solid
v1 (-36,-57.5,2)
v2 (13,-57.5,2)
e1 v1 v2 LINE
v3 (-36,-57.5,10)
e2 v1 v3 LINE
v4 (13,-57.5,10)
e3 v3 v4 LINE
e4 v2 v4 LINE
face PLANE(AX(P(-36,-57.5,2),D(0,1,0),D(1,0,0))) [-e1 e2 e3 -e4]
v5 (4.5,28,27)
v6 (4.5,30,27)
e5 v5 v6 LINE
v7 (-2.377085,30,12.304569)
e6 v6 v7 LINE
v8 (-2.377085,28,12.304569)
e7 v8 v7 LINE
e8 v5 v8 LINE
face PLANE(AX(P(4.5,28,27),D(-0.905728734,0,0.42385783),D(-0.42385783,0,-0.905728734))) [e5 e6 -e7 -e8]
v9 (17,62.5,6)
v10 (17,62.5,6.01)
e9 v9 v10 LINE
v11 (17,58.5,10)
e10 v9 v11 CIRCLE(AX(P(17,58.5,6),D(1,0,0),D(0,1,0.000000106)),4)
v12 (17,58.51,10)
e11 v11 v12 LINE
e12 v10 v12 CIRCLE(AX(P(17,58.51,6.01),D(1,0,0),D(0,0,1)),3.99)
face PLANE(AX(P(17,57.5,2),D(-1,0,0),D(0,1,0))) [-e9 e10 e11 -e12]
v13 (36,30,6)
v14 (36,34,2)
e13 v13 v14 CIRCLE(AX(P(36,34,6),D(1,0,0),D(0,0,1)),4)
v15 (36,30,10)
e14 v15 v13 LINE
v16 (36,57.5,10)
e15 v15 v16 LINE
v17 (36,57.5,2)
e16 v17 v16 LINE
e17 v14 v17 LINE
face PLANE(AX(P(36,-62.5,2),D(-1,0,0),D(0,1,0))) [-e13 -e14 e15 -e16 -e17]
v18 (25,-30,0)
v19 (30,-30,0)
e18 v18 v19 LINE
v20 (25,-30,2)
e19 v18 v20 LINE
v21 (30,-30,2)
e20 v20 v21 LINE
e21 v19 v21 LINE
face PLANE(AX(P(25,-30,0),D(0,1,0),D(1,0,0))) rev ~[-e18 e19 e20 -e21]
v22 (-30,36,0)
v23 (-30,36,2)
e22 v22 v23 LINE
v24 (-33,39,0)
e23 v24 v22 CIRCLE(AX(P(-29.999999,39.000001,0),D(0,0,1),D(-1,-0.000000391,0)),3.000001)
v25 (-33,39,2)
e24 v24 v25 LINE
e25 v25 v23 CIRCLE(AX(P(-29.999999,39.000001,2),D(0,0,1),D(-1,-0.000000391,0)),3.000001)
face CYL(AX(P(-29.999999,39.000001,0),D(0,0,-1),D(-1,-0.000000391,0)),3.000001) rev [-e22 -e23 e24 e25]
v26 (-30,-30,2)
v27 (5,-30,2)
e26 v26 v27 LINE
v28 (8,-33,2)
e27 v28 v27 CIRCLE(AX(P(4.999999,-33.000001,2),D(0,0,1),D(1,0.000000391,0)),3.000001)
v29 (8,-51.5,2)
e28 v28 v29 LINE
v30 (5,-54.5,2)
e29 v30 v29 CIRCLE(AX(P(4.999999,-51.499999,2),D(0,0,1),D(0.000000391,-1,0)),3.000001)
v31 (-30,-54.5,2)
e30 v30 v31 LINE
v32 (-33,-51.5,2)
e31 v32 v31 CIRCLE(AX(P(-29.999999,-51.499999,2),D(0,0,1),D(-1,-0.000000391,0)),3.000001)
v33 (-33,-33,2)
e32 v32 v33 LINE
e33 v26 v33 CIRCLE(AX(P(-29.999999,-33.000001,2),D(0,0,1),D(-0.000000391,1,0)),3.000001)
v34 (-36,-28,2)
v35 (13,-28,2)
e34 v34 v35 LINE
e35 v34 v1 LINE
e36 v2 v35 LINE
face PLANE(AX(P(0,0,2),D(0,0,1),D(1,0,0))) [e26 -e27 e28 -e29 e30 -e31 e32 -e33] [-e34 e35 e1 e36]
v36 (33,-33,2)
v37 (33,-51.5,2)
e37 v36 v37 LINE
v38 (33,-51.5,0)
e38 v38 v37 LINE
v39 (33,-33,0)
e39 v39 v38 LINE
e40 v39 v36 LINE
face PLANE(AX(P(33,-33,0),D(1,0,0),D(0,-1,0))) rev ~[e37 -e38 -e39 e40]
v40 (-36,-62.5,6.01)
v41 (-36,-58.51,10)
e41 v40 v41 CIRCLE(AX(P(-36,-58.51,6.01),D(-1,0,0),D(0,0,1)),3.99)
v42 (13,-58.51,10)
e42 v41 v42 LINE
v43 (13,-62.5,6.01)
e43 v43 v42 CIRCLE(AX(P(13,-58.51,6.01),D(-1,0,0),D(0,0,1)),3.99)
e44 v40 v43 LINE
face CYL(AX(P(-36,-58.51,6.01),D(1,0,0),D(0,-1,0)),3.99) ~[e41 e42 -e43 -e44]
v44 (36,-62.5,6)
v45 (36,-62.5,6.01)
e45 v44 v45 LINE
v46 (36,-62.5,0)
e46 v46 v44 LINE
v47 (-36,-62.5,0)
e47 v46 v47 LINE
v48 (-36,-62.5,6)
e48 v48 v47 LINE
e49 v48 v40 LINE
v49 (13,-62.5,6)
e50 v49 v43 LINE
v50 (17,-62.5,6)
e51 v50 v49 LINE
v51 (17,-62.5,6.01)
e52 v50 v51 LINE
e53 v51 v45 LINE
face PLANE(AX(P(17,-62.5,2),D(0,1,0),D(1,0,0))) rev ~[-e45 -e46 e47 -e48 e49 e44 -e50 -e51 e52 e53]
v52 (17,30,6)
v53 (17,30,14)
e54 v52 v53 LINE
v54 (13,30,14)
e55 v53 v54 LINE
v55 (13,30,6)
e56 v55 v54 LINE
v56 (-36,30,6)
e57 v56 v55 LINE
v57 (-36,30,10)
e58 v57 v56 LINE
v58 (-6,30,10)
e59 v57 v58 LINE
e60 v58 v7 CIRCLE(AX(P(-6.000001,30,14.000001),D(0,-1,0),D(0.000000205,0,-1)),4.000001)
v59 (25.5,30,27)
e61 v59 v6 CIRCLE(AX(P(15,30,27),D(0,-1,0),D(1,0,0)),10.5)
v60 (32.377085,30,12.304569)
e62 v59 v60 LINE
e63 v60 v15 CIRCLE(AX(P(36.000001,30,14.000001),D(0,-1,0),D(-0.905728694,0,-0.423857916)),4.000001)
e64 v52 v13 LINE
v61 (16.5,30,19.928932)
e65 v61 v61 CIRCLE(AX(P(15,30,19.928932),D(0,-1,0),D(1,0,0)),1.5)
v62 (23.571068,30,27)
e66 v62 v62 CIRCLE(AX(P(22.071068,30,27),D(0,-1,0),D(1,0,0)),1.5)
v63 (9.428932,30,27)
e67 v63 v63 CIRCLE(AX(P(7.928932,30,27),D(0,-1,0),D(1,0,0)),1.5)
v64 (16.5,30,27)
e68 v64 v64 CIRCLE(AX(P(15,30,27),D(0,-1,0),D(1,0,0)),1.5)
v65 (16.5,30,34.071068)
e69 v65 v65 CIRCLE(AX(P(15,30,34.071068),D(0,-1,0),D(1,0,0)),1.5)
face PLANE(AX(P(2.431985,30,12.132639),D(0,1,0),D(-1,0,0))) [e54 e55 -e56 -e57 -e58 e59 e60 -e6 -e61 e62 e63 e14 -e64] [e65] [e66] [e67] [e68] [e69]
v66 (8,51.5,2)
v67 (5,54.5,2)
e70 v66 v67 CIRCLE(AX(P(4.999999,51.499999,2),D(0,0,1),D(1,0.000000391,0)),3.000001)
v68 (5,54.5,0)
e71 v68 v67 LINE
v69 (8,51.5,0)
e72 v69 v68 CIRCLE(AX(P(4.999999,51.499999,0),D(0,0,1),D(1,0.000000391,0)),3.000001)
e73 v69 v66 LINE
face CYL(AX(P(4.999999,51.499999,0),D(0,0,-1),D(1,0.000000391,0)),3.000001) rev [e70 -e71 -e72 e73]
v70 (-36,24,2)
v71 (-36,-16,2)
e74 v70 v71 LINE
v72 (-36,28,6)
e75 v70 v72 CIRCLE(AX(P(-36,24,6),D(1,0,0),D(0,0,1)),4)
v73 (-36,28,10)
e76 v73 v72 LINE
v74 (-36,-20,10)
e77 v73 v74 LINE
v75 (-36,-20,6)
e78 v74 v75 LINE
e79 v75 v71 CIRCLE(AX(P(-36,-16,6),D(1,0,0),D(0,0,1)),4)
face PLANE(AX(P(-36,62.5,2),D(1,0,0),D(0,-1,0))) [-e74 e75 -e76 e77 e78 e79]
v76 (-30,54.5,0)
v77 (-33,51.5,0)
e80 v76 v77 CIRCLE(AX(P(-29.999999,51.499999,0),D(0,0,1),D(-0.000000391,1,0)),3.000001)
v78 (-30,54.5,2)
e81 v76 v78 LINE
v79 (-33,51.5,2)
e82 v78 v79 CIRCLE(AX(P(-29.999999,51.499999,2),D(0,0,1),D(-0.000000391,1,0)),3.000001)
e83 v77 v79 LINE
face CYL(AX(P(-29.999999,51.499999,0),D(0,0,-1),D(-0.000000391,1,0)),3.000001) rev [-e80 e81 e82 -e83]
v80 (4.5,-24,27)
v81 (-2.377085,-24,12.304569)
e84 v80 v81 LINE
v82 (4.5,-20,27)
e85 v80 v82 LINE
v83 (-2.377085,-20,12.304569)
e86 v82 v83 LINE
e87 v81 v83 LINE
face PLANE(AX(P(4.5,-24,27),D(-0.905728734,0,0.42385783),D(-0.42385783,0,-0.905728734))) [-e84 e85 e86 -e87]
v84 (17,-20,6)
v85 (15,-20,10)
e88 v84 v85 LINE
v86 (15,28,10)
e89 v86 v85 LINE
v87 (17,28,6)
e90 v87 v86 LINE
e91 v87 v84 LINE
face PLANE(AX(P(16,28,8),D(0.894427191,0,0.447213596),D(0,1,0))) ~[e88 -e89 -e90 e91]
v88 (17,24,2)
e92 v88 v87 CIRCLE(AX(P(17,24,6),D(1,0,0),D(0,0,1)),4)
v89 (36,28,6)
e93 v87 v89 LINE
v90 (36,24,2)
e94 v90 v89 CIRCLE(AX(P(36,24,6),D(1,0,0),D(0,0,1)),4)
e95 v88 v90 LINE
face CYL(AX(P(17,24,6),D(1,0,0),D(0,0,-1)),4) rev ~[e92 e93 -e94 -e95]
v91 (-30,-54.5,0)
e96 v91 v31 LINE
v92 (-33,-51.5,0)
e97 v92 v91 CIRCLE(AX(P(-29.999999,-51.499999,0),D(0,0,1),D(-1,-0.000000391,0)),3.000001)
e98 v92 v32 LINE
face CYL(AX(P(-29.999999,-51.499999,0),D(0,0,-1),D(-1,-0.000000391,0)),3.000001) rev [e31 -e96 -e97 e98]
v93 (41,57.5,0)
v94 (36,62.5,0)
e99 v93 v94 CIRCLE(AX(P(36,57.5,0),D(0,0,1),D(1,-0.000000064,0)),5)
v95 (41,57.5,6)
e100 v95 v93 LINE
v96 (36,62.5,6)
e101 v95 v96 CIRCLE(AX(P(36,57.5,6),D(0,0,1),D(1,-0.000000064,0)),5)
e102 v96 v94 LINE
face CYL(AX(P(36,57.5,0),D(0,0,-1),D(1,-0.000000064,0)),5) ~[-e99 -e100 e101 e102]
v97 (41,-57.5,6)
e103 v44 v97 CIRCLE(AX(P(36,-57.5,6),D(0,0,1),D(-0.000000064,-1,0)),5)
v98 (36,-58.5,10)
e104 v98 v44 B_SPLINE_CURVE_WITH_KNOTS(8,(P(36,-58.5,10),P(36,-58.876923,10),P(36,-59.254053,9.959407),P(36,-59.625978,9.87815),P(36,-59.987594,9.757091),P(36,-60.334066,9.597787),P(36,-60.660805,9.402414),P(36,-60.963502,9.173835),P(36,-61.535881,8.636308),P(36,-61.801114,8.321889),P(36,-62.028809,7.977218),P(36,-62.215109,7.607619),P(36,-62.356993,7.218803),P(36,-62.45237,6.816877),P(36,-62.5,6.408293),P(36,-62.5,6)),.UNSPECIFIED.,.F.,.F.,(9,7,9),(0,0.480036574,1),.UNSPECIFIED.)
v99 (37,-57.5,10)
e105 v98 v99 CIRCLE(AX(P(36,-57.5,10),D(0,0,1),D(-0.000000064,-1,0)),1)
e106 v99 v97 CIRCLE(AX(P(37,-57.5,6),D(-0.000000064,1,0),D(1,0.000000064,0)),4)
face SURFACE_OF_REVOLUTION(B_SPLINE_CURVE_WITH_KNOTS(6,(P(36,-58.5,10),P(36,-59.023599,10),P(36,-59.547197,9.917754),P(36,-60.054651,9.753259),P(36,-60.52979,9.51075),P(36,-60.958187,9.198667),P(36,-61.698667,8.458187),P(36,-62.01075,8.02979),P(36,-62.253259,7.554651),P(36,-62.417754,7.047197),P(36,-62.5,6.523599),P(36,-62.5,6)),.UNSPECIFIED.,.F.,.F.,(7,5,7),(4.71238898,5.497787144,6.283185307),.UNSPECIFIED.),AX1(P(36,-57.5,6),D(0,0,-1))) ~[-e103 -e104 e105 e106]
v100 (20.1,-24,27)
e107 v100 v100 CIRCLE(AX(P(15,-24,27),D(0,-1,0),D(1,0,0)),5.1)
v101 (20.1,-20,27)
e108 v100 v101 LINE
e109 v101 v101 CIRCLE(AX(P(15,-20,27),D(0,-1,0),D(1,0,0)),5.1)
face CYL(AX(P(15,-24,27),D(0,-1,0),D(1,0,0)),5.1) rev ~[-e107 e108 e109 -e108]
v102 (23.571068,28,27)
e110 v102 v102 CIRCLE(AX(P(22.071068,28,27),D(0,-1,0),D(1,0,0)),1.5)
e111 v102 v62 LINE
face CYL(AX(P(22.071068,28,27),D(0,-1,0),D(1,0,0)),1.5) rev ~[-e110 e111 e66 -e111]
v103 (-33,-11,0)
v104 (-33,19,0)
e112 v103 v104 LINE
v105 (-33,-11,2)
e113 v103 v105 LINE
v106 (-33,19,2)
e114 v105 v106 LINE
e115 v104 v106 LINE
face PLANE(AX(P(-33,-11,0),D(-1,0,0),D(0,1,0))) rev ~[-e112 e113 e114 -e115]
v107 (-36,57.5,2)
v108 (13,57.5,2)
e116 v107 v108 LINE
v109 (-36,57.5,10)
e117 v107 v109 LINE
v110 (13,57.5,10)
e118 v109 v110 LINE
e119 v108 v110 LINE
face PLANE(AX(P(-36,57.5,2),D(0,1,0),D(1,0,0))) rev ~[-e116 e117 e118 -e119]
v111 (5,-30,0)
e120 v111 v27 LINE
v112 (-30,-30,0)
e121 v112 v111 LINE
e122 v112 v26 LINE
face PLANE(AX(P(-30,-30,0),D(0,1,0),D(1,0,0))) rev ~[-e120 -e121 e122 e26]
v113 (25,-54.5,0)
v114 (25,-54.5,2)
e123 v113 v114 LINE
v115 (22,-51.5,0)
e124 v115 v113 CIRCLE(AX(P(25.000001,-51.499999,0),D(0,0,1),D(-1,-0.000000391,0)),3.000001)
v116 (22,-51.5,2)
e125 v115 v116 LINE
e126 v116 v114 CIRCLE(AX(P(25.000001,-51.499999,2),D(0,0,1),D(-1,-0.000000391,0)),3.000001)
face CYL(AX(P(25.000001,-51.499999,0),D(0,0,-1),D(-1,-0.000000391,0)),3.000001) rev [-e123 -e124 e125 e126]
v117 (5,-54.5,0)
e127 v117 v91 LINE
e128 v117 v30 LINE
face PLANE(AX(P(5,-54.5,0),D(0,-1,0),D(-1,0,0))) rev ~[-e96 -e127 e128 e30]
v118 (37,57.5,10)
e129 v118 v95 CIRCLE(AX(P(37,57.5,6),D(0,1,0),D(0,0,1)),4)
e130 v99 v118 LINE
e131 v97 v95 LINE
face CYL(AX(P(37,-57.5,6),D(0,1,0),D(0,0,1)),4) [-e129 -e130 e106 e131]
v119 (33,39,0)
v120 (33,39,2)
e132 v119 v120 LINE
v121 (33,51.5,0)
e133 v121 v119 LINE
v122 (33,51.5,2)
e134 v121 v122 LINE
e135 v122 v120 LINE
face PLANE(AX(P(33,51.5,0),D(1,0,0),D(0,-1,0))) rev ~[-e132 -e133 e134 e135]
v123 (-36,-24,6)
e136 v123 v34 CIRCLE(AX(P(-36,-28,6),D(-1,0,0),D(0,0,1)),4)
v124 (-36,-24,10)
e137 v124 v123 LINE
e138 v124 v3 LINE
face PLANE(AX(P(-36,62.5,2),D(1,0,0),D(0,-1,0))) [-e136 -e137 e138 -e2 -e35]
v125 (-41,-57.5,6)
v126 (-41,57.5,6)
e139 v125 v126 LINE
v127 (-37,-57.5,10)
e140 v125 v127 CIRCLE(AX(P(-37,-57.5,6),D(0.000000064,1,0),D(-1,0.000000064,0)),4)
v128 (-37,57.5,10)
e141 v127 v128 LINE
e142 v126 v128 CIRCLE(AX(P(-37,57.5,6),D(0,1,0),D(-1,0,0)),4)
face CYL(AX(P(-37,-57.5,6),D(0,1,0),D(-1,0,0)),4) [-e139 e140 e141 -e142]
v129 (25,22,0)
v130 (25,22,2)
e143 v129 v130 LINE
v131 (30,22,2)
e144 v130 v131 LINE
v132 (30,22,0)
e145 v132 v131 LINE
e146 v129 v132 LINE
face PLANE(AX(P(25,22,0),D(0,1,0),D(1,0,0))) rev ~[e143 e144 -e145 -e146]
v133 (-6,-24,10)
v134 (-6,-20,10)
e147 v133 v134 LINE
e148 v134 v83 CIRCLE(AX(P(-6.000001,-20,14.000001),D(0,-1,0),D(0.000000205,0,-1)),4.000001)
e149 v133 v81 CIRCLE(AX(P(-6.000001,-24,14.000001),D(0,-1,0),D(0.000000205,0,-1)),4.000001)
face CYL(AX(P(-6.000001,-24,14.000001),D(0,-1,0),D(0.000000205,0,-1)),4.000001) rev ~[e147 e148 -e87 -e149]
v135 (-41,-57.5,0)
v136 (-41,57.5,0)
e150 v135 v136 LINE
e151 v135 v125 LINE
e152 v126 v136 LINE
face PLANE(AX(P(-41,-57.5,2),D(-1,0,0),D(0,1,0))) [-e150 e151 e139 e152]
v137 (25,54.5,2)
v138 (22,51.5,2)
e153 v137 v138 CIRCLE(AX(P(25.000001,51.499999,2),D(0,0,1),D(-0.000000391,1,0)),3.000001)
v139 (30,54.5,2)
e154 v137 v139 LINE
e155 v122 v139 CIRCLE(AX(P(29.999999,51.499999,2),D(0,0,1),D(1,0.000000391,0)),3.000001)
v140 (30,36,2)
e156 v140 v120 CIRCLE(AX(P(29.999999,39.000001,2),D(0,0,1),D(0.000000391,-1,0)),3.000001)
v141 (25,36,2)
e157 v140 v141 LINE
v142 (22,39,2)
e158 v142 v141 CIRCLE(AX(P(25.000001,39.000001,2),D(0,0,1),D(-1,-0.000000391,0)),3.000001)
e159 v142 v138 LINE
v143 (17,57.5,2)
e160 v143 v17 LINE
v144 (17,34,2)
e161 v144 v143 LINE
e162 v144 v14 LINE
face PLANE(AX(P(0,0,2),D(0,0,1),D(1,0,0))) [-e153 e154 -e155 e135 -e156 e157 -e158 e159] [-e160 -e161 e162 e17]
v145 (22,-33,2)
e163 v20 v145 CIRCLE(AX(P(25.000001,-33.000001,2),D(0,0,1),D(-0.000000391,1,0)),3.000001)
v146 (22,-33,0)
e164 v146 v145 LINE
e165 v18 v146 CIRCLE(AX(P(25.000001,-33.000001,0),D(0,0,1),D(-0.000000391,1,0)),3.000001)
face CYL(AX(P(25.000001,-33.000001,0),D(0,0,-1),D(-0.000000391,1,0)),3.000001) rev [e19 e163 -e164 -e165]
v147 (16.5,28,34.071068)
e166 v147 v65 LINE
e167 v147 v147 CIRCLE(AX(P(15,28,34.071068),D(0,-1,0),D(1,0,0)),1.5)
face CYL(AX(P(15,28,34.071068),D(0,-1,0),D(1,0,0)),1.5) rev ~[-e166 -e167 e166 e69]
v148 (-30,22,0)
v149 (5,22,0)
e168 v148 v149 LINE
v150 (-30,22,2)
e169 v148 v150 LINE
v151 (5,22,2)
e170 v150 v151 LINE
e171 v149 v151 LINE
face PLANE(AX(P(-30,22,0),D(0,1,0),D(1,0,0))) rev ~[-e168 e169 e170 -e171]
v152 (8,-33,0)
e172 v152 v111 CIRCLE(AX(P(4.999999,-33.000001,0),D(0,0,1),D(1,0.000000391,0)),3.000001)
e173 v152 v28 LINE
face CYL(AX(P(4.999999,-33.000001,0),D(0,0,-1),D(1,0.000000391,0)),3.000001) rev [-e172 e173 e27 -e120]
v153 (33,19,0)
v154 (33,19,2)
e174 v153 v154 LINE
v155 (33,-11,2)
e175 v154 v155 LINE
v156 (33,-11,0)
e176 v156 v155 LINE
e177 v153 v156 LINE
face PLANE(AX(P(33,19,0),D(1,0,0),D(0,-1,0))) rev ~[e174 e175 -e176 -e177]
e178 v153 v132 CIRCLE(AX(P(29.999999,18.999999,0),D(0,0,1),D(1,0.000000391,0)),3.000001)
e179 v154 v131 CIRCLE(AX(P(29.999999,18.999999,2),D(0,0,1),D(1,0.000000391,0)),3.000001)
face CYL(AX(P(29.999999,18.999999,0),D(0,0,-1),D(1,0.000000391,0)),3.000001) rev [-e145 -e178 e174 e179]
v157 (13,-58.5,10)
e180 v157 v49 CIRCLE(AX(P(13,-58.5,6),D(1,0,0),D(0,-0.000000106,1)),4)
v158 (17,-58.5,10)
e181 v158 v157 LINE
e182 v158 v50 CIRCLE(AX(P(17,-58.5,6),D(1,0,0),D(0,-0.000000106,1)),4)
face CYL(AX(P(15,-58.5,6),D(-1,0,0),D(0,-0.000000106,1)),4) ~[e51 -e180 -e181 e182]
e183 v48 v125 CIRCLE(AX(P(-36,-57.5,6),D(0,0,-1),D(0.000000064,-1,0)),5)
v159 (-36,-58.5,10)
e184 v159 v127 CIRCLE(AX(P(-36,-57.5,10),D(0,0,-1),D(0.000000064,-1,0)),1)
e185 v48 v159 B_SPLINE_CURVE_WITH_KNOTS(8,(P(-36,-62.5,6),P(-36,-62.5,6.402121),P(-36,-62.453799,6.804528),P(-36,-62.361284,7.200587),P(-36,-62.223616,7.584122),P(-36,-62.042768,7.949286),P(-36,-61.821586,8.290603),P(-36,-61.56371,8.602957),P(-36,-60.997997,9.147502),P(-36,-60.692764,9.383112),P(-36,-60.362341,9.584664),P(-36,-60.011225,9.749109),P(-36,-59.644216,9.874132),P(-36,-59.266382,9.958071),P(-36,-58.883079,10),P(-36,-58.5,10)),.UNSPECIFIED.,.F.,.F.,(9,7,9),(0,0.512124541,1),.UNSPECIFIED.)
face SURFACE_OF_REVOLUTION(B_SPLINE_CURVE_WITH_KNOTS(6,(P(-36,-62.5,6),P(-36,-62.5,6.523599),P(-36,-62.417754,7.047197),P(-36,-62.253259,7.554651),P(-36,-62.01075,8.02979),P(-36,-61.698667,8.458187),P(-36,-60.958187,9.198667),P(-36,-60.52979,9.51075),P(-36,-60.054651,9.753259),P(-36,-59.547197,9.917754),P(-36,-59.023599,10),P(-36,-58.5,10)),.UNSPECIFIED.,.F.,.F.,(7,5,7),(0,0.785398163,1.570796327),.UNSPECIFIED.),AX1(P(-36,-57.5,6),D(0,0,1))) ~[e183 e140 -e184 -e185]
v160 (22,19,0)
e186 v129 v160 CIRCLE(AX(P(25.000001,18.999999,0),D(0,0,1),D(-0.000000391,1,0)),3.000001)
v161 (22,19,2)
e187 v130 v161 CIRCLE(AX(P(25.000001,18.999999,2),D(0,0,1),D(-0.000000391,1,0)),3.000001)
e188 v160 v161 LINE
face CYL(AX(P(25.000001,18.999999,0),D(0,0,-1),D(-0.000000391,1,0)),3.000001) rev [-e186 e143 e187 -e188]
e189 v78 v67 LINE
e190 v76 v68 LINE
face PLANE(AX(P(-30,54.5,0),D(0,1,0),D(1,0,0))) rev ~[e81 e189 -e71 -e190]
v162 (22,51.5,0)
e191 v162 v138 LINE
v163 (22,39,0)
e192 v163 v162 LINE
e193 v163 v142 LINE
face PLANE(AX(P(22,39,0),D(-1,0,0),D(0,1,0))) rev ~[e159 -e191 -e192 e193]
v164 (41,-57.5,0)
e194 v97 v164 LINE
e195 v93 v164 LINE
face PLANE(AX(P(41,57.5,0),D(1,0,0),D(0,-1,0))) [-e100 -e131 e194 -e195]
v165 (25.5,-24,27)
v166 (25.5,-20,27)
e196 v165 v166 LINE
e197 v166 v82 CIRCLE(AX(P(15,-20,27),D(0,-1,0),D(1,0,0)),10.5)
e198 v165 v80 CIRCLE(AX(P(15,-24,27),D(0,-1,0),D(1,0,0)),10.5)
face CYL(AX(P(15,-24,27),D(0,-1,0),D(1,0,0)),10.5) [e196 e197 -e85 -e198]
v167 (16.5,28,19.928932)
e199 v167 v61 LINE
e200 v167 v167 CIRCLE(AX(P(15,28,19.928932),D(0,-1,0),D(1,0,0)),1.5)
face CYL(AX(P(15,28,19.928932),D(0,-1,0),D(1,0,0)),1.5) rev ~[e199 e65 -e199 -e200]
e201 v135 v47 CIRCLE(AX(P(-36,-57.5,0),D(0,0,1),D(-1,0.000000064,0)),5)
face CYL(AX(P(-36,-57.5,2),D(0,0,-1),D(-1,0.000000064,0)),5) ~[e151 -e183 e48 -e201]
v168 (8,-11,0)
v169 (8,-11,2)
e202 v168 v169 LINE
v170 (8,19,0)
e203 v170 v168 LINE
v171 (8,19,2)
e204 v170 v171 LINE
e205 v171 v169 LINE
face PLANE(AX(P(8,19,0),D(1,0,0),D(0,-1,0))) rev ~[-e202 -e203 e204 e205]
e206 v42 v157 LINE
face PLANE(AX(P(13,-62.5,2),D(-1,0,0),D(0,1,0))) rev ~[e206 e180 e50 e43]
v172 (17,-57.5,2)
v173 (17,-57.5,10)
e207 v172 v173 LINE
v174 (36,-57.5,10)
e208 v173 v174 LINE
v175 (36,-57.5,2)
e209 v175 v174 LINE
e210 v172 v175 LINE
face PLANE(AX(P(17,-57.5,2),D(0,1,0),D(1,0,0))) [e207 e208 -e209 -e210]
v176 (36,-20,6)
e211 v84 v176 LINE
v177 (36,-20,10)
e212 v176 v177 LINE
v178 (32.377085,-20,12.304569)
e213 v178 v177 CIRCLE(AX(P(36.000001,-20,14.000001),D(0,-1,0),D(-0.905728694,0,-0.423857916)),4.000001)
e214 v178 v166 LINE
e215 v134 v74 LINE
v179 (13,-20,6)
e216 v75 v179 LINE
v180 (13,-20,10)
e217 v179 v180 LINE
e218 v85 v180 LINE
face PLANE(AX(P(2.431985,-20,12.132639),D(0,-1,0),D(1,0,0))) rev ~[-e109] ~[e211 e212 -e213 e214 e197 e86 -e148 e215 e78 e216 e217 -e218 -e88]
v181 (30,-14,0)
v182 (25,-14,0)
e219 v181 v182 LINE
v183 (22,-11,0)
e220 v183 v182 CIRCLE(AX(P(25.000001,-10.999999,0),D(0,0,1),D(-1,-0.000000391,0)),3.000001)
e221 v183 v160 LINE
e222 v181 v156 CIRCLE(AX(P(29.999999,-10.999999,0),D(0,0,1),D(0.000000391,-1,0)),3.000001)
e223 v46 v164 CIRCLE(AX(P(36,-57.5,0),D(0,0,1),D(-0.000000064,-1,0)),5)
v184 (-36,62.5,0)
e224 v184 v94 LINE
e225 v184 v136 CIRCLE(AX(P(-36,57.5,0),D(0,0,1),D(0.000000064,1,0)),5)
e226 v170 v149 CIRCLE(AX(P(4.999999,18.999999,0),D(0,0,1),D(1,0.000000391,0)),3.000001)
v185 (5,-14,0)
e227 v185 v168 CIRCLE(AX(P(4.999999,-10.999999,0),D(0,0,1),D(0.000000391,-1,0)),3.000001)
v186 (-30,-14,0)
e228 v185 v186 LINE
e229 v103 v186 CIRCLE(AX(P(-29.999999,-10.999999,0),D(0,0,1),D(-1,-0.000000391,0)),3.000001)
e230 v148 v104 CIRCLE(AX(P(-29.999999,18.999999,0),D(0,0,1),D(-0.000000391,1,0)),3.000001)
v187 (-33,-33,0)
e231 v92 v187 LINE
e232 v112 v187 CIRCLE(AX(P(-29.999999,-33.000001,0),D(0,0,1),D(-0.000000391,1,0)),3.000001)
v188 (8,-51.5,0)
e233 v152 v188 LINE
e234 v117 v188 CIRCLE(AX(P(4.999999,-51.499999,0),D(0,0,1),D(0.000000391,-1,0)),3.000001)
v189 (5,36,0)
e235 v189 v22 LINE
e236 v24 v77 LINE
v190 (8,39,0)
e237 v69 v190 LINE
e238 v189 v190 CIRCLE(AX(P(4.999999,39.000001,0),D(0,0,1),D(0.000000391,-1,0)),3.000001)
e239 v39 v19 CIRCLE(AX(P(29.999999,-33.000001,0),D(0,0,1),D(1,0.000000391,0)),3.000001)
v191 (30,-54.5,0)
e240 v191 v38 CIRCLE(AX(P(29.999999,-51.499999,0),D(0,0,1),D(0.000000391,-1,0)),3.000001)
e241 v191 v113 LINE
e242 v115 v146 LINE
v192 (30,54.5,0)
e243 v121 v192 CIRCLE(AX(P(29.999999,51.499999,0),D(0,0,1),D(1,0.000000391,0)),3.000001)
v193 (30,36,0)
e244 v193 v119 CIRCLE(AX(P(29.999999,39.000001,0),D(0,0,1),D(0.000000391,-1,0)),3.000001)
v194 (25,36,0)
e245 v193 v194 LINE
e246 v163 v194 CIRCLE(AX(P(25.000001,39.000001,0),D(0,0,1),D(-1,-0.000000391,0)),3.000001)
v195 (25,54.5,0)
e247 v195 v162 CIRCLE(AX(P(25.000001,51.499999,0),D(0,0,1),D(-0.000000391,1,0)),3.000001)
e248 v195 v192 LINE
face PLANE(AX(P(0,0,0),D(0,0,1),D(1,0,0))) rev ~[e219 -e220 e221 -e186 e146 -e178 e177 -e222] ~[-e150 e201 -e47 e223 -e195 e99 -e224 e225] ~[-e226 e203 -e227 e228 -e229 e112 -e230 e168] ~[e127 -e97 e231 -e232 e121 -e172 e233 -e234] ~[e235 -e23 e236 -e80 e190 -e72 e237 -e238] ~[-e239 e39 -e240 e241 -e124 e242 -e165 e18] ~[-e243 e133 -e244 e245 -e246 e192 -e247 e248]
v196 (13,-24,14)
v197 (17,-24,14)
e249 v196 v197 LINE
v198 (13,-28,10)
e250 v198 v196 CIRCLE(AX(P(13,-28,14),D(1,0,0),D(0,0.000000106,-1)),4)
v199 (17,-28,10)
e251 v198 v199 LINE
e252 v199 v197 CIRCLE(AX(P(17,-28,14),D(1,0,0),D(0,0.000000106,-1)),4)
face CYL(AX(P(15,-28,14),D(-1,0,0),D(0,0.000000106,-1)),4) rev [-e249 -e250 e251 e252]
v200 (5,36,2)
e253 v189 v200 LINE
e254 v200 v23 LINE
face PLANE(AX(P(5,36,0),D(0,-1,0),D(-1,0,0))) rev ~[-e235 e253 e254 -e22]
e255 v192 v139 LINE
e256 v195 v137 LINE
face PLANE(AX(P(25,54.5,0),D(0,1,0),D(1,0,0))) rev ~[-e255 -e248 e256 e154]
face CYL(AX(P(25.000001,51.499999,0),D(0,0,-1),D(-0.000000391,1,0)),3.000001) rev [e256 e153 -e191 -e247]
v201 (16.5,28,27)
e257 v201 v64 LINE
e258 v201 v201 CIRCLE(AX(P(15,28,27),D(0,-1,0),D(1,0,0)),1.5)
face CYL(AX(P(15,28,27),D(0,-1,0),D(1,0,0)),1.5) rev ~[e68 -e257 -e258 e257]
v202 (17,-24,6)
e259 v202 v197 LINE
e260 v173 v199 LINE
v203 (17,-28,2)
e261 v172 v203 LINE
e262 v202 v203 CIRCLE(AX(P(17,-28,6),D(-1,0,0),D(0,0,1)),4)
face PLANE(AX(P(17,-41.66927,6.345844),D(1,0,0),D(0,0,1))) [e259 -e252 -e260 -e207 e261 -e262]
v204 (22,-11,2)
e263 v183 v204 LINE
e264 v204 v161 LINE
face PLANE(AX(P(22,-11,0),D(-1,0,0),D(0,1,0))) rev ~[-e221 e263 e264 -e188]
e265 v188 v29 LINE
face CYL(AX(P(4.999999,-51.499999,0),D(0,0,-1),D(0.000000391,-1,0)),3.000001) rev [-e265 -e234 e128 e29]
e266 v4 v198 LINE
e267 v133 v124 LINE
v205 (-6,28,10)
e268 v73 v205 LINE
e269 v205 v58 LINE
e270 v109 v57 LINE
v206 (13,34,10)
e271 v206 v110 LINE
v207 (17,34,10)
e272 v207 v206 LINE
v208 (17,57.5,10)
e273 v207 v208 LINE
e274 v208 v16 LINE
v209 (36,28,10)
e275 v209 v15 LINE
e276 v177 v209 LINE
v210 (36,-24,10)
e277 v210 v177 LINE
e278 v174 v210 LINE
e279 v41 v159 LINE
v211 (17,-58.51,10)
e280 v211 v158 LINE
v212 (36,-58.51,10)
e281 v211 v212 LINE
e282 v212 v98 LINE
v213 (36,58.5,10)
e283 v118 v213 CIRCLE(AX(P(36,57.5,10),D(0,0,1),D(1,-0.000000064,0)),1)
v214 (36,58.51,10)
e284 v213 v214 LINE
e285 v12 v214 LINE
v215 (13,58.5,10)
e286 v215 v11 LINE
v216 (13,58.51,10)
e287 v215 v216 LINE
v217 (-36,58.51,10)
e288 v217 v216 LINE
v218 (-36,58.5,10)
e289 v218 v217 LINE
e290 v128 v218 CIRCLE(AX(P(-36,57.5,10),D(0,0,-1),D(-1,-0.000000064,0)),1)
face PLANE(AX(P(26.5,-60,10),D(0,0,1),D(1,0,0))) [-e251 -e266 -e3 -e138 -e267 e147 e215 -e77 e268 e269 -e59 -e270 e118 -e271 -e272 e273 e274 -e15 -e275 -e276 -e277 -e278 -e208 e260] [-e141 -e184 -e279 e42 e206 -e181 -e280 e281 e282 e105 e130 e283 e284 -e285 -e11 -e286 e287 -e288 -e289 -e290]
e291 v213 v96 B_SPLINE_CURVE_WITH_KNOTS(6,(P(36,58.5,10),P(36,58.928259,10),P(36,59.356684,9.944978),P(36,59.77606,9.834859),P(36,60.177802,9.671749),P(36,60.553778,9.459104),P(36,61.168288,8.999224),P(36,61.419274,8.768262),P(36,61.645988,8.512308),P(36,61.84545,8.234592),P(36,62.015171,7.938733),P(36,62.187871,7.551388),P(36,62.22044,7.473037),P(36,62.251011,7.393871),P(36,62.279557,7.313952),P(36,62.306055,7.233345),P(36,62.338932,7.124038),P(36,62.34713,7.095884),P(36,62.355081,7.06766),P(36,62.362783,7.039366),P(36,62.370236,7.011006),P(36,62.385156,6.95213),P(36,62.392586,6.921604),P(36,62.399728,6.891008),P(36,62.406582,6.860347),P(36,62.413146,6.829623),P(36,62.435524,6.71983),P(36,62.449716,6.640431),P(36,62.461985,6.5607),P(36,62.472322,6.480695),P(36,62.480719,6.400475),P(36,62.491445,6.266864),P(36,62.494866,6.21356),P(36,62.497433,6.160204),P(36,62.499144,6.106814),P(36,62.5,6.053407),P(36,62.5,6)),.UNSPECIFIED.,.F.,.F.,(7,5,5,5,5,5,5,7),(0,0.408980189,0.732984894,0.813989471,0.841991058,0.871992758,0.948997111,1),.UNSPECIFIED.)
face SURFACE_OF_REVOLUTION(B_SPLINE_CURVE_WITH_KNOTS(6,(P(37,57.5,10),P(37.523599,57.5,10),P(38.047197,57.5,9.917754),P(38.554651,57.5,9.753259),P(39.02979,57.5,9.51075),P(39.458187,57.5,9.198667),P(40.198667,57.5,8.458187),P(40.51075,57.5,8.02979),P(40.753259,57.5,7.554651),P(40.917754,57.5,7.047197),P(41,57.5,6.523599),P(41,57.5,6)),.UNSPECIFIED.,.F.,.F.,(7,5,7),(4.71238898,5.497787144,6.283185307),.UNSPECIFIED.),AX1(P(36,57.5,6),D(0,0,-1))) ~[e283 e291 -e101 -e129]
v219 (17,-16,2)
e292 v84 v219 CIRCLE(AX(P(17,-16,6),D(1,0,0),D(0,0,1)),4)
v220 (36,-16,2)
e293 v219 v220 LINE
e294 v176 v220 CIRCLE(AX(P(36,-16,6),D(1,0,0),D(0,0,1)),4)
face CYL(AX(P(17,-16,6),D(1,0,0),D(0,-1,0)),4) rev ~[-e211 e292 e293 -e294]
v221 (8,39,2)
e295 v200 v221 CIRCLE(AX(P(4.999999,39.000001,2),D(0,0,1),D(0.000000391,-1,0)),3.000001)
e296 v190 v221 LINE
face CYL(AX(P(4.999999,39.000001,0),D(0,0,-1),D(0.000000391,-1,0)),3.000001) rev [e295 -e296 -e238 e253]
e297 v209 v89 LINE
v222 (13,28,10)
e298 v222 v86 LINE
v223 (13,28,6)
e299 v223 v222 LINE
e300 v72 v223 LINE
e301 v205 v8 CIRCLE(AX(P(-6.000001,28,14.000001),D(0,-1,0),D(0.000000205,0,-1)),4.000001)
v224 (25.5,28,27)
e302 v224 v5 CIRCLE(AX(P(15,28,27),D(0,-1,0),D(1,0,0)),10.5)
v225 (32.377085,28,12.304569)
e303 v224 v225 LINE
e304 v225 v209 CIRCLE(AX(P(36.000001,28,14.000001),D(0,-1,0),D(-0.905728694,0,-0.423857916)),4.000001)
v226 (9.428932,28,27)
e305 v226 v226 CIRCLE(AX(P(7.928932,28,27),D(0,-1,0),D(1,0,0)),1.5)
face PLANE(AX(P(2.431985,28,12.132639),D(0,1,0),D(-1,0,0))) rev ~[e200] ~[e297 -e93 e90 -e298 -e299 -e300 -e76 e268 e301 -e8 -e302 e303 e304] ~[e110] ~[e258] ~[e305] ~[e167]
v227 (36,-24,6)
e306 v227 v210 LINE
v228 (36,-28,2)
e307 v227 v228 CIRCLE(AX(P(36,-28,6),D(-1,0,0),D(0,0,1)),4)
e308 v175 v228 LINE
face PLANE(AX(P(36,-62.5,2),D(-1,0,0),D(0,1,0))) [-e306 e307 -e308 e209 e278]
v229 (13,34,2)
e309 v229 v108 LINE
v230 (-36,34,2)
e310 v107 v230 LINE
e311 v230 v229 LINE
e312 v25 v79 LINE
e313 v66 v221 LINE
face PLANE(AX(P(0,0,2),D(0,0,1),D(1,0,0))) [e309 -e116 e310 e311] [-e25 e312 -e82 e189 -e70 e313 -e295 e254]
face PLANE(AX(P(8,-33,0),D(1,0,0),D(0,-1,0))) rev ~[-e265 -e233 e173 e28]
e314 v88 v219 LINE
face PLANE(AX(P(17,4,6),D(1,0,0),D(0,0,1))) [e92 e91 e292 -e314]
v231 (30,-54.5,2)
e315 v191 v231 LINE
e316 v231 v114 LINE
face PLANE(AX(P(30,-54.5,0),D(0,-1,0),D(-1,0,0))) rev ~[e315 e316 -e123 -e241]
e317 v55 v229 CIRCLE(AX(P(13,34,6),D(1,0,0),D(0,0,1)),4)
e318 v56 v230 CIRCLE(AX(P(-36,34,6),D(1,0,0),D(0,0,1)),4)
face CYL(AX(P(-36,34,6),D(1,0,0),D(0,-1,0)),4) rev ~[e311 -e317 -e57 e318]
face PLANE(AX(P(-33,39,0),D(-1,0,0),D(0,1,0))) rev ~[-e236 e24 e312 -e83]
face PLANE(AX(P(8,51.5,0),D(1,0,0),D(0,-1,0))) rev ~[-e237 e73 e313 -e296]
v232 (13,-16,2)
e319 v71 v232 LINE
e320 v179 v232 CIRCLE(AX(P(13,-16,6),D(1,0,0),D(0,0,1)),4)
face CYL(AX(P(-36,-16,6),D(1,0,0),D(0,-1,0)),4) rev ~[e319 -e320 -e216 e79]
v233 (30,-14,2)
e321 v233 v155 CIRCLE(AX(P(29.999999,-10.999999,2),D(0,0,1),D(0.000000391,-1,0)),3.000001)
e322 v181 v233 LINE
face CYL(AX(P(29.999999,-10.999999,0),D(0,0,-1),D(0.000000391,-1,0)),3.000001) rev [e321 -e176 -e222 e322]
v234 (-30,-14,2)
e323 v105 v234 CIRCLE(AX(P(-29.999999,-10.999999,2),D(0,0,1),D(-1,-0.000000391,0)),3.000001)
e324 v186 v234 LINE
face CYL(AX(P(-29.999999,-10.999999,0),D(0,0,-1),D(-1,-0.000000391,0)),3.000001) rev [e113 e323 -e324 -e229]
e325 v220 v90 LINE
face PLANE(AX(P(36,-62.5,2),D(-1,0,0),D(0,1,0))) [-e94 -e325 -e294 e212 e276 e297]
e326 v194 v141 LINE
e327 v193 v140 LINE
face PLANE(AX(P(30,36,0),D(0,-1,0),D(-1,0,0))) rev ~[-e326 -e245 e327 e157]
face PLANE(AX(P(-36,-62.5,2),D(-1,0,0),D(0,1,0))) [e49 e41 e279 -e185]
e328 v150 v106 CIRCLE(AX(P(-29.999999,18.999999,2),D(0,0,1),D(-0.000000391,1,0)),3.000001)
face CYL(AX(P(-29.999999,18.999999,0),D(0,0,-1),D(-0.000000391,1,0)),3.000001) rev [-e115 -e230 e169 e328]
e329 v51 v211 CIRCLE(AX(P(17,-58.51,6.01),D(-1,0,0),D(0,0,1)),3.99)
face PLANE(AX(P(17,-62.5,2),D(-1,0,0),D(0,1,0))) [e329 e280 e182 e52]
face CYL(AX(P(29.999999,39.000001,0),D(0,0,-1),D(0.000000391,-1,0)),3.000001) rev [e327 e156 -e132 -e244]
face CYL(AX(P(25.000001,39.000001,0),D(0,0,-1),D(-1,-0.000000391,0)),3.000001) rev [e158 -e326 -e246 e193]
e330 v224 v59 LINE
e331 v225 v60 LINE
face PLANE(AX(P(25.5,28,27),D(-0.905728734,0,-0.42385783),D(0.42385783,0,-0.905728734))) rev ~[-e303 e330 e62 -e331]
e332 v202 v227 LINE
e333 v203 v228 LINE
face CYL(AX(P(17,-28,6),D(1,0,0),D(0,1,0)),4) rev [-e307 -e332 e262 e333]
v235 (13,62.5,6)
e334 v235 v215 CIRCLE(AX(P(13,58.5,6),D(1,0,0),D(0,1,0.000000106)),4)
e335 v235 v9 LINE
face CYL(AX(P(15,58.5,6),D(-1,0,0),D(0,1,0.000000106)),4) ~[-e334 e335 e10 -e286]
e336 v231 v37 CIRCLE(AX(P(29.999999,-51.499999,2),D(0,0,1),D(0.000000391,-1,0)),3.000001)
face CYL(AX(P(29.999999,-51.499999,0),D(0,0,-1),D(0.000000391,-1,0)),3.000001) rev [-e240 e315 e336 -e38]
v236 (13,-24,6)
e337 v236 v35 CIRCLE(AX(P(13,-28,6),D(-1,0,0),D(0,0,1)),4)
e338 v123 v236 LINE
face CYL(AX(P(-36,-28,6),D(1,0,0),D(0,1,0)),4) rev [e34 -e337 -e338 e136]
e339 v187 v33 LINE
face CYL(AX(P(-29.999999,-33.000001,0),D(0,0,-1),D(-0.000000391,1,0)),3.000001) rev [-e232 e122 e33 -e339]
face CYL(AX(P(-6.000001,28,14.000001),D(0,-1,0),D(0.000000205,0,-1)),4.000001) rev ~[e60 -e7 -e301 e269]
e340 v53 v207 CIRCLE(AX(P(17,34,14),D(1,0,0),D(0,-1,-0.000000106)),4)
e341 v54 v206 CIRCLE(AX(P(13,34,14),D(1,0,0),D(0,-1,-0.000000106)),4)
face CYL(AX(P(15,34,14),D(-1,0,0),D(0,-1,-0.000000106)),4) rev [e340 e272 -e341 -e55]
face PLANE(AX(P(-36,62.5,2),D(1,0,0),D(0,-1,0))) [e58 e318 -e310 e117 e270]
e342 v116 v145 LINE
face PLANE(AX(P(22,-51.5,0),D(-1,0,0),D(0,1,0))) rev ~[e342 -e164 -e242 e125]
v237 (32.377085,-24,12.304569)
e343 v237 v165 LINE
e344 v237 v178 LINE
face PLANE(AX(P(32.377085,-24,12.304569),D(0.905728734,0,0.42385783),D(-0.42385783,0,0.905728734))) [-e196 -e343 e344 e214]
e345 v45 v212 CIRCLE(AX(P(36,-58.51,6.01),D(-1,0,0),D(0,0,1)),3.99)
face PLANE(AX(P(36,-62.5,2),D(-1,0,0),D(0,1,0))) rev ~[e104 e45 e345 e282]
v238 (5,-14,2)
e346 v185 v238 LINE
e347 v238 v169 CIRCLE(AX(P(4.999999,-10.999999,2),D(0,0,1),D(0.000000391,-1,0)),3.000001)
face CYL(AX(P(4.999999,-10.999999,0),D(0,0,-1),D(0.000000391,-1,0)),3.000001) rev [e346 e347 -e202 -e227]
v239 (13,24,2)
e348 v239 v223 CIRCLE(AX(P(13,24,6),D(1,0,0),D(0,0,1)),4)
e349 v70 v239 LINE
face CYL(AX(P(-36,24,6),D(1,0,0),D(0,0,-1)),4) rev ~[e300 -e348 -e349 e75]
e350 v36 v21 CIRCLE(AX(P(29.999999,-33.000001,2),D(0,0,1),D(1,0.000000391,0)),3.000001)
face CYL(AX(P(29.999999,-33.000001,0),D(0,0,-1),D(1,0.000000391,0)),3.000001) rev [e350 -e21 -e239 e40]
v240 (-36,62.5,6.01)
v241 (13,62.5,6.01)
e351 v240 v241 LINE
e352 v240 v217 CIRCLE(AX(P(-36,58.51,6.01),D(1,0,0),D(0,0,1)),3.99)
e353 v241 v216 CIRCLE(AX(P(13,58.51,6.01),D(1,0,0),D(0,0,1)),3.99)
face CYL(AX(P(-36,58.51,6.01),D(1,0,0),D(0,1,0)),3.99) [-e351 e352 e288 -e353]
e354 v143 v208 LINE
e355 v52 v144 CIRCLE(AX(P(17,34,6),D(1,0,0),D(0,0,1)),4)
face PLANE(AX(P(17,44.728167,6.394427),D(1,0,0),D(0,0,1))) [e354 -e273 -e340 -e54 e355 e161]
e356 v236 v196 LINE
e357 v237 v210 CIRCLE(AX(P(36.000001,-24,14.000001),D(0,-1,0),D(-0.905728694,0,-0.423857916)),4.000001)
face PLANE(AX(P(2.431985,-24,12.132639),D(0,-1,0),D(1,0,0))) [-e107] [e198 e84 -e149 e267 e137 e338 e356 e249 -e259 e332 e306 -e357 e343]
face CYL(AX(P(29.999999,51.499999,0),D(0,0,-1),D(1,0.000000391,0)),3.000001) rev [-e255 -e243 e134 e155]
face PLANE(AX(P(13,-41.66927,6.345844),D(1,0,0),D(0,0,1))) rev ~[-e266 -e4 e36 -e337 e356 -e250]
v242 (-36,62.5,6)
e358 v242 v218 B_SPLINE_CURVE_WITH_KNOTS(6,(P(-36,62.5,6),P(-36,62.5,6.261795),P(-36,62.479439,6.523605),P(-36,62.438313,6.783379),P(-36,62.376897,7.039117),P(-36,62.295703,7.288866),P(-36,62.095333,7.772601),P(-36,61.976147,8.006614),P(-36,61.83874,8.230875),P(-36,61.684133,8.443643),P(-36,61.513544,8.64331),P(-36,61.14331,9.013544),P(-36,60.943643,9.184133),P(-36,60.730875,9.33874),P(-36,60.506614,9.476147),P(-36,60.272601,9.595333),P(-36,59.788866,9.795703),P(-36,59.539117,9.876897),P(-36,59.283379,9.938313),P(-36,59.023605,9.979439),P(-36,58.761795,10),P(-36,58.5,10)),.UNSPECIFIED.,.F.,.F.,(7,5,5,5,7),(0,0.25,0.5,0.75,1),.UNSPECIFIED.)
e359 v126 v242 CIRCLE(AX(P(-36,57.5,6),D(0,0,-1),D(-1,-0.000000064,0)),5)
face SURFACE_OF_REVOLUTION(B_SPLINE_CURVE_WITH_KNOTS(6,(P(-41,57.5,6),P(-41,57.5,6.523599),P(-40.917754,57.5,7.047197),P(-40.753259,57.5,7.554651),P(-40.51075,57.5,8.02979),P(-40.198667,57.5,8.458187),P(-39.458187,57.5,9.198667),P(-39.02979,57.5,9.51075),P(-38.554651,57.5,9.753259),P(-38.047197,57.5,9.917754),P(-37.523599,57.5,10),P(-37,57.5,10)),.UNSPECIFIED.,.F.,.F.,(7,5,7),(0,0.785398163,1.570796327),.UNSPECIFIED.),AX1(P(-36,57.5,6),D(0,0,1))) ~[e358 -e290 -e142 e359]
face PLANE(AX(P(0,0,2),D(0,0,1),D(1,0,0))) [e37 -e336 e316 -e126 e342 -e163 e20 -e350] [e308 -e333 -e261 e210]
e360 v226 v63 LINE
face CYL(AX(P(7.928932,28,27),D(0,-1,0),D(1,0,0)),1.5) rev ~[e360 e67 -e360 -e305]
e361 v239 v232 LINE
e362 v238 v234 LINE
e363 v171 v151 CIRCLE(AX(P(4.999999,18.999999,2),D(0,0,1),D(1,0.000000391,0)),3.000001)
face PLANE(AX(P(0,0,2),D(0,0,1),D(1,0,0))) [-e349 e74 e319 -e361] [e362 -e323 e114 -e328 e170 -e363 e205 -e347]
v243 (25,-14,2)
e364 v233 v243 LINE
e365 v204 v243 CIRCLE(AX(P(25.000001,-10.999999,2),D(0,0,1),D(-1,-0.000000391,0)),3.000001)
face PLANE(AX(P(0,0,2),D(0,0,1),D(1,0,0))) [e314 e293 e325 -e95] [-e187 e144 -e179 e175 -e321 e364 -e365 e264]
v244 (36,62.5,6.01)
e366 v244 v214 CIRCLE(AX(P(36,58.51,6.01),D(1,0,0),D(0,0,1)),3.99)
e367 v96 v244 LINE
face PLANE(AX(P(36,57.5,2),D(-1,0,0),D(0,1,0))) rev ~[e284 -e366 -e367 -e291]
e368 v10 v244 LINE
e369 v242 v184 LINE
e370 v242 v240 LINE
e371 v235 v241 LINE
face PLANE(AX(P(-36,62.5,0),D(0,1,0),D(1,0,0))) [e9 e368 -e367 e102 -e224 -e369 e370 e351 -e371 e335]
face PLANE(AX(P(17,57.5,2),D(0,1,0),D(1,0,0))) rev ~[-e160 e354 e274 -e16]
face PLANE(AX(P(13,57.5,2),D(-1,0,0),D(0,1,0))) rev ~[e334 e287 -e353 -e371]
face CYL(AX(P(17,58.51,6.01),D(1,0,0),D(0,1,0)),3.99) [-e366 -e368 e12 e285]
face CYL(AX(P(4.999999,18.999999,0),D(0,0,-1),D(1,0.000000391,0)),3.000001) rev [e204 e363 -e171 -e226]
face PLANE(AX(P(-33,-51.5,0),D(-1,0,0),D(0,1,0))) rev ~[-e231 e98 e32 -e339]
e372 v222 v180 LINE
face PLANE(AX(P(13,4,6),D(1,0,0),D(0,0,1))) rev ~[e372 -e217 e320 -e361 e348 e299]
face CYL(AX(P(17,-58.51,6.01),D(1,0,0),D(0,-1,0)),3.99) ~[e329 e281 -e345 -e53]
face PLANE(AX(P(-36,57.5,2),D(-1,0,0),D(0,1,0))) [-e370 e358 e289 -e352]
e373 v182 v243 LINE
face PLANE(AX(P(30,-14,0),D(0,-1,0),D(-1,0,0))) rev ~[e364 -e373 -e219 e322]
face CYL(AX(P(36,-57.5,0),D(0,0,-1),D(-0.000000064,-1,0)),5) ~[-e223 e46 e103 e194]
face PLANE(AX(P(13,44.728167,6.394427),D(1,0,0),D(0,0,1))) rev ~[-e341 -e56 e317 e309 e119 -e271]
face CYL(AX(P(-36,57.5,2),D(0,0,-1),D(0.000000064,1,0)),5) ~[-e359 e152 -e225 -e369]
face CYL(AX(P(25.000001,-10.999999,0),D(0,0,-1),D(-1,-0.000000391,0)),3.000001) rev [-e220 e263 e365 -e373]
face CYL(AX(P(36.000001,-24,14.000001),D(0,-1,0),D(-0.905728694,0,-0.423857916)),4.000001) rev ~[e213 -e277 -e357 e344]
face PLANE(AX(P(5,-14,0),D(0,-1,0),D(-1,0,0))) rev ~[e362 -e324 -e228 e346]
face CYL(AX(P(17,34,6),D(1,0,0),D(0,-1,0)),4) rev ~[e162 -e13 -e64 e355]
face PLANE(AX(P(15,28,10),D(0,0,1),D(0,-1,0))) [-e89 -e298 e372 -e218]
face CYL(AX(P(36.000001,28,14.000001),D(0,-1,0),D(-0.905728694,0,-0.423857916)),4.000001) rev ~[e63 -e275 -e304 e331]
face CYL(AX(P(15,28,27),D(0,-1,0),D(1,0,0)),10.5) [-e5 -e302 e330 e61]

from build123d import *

# Parameters (mm, degrees)
PAD_DEPTH     = 2
SKETCH001_R   = 5.1
PAD001_DEPTH  = 4
SKETCH002_R   = 1.5
PAD002_DEPTH  = 2
SKETCH003_W   = 8
SKETCH003_H   = 48
PAD003_DEPTH  = 2
PAD004_DEPTH  = 8
FILLET_R      = 4
SKETCH005_W   = 19
SKETCH005_H   = 5
SKETCH005_W_2 = 49
PAD005_DEPTH  = 8
FILLET001_R   = 3.99
CHAMFER_SIZE2 = 2
CHAMFER_SIZE  = 4
FILLET002_R   = 4


with BuildPart() as part:
    # Sketch → Pad (new body)
    with BuildSketch(Plane.XY):
        with BuildLine():
            ThreePointArc((-36, 62.5), (-39.535534, 61.035534), (-41, 57.5))
            Line((-41, -57.5), (-41, 57.5))
            ThreePointArc((-41, -57.5), (-39.535534, -61.035534), (-36, -62.5))
            Line((36, -62.5), (-36, -62.5))
            ThreePointArc((36, -62.5), (39.535534, -61.035534), (41, -57.5))
            Line((41, 57.5), (41, -57.5))
            ThreePointArc((41, 57.5), (39.535534, 61.035534), (36, 62.5))
            Line((-36, 62.5), (36, 62.5))
        make_face()
        with BuildLine():
            ThreePointArc((-30, 54.5), (-32.12132, 53.62132), (-33, 51.5))
            Line((-33, 39), (-33, 51.5))
            ThreePointArc((-33, 39), (-32.12132, 36.87868), (-30, 36))
            Line((5, 36), (-30, 36))
            ThreePointArc((5, 36), (7.12132, 36.87868), (8, 39))
            Line((8, 51.5), (8, 39))
            ThreePointArc((8, 51.5), (7.12132, 53.62132), (5, 54.5))
            Line((-30, 54.5), (5, 54.5))
        make_face(mode=Mode.SUBTRACT)
        with BuildLine():
            ThreePointArc((25, 54.5), (22.87868, 53.62132), (22, 51.5))
            Line((22, 39), (22, 51.5))
            ThreePointArc((22, 39), (22.87868, 36.87868), (25, 36))
            Line((30, 36), (25, 36))
            ThreePointArc((30, 36), (32.12132, 36.87868), (33, 39))
            Line((33, 51.5), (33, 39))
            ThreePointArc((33, 51.5), (32.12132, 53.62132), (30, 54.5))
            Line((25, 54.5), (30, 54.5))
        make_face(mode=Mode.SUBTRACT)
        with BuildLine():
            ThreePointArc((-30, 22), (-32.12132, 21.12132), (-33, 19))
            Line((-33, -11), (-33, 19))
            ThreePointArc((-33, -11), (-32.12132, -13.12132), (-30, -14))
            Line((5, -14), (-30, -14))
            ThreePointArc((5, -14), (7.12132, -13.12132), (8, -11))
            Line((8, 19), (8, -11))
            ThreePointArc((8, 19), (7.12132, 21.12132), (5, 22))
            Line((-30, 22), (5, 22))
        make_face(mode=Mode.SUBTRACT)
        with BuildLine():
            ThreePointArc((25, 22), (22.87868, 21.12132), (22, 19))
            Line((22, -11), (22, 19))
            ThreePointArc((22, -11), (22.87868, -13.12132), (25, -14))
            Line((30, -14), (25, -14))
            ThreePointArc((30, -14), (32.12132, -13.12132), (33, -11))
            Line((33, 19), (33, -11))
            ThreePointArc((33, 19), (32.12132, 21.12132), (30, 22))
            Line((25, 22), (30, 22))
        make_face(mode=Mode.SUBTRACT)
        with BuildLine():
            ThreePointArc((-30, -30), (-32.12132, -30.87868), (-33, -33))
            Line((-33, -51.5), (-33, -33))
            ThreePointArc((-33, -51.5), (-32.12132, -53.62132), (-30, -54.5))
            Line((5, -54.5), (-30, -54.5))
            ThreePointArc((5, -54.5), (7.12132, -53.62132), (8, -51.5))
            Line((8, -33), (8, -51.5))
            ThreePointArc((8, -33), (7.12132, -30.87868), (5, -30))
            Line((-30, -30), (5, -30))
        make_face(mode=Mode.SUBTRACT)
        with BuildLine():
            ThreePointArc((25, -30), (22.87868, -30.87868), (22, -33))
            Line((22, -51.5), (22, -33))
            ThreePointArc((22, -51.5), (22.87868, -53.62132), (25, -54.5))
            Line((30, -54.5), (25, -54.5))
            ThreePointArc((30, -54.5), (32.12132, -53.62132), (33, -51.5))
            Line((33, -33), (33, -51.5))
            ThreePointArc((33, -33), (32.12132, -30.87868), (30, -30))
            Line((25, -30), (30, -30))
        make_face(mode=Mode.SUBTRACT)
    extrude(amount=PAD_DEPTH)

    # Sketch001 (on DatumPlane) → Pad001 (join)
    with BuildSketch(Plane.XZ.offset(24)):
        with BuildLine():
            Line((36, 2), (36, 10))
            ThreePointArc((32.377085, 12.304569), (33.85311, 10.624965), (36, 10))
            Line((32.377085, 12.304569), (25.5, 27))
            ThreePointArc((25.5, 27), (15, 37.5), (4.5, 27))
            Line((4.5, 27), (-2.377085, 12.304569))
            ThreePointArc((-6, 10), (-3.85311, 10.624965), (-2.377085, 12.304569))
            Line((-6, 10), (-36, 10))
            Line((-36, 10), (-36, 2))
            Line((-36, 2), (36, 2))
        make_face()
        with Locations((15, 27)):
            Circle(SKETCH001_R, mode=Mode.SUBTRACT)
    extrude(amount=-PAD001_DEPTH)

    # Sketch002 (on DatumPlane) → Pad002 (join)
    with BuildSketch(Plane.XZ.offset(-28)):
        with BuildLine():
            Line((-36, 10), (-6, 10))
            ThreePointArc((-6, 10), (-3.85311, 10.624965), (-2.377085, 12.304569))
            Line((4.5, 27), (-2.377085, 12.304569))
            ThreePointArc((25.5, 27), (15, 37.5), (4.5, 27))
            Line((25.5, 27), (32.377085, 12.304569))
            ThreePointArc((32.377085, 12.304569), (33.85311, 10.624965), (36, 10))
            Line((36, 10), (36, 2))
            Line((-36, 2), (36, 2))
            Line((-36, 10), (-36, 2))
        make_face()
        with Locations((7.928932, 27)):
            Circle(SKETCH002_R, mode=Mode.SUBTRACT)
        with Locations((15, 34.071068)):
            Circle(SKETCH002_R, mode=Mode.SUBTRACT)
        with Locations((15, 27)):
            Circle(SKETCH002_R, mode=Mode.SUBTRACT)
        with Locations((22.071068, 27)):
            Circle(SKETCH002_R, mode=Mode.SUBTRACT)
        with Locations((15, 19.928932)):
            Circle(SKETCH002_R, mode=Mode.SUBTRACT)
    extrude(amount=-PAD002_DEPTH)

    # Sketch003 (on DatumPlane) → Pad003 (join, symmetric)
    with BuildSketch(Plane(origin=(15, -24, 26), x_dir=(0, 0, 1), z_dir=(1, 0, 0))):
        with BuildLine():
            Line((-24, -54), (-24, -86.5))
            Line((-24, -86.5), (-20, -86.5))
            ThreePointArc((-20, -86.5), (-17.171573, -85.328427), (-16, -82.5))
            Line((-16, -58), (-16, -82.5))
            ThreePointArc((-12, -54), (-14.828427, -55.171573), (-16, -58))
            Line((-24, -54), (-12, -54))
        make_face()
        with BuildLine():
            Line((-24, 38.5), (-24, 0))
            Line((-24, 0), (-12, 0))
            ThreePointArc((-16, 4), (-14.828427, 1.171573), (-12, 0))
            Line((-16, 34.5), (-16, 4))
            ThreePointArc((-16, 34.5), (-17.171573, 37.328427), (-20, 38.5))
            Line((-24, 38.5), (-20, 38.5))
        make_face()
        with Locations((-20, -28)):
            Rectangle(SKETCH003_W, SKETCH003_H)
    extrude(amount=PAD003_DEPTH, both=True)

    # Sketch004 (on Face8 of Pad003) → Pad004 (join)
    with BuildSketch(Plane.XY.offset(2)):
        with BuildLine():
            Line((-41, -57.5), (-41, 57.5))
            ThreePointArc((-36, 62.5), (-39.535534, 61.035534), (-41, 57.5))
            Line((-36, 62.5), (-36, -62.5))
            ThreePointArc((-41, -57.5), (-39.535534, -61.035534), (-36, -62.5))
        make_face()
        with BuildLine():
            Line((41, -57.5), (41, 57.5))
            ThreePointArc((41, 57.5), (39.535534, 61.035534), (36, 62.5))
            Line((36, -62.5), (36, 62.5))
            ThreePointArc((36, -62.5), (39.535534, -61.035534), (41, -57.5))
        make_face()
    extrude(amount=PAD004_DEPTH)

    # Fillet
    fillet_edges = [part.edges().sort_by_distance(p)[0] for p in [
        (41, 0, 10),
        (-41, 0, 10),
    ]]
    fillet(fillet_edges, radius=FILLET_R)

    # Sketch005 (on Face99 of Fillet) → Pad005 (join)
    with BuildSketch(Plane.XY.offset(2)):
        with Locations((26.5, -60)):
            Rectangle(SKETCH005_W, SKETCH005_H)
        with Locations((-11.5, -60)):
            Rectangle(SKETCH005_W_2, SKETCH005_H)
        with Locations((26.5, 60)):
            Rectangle(SKETCH005_W, SKETCH005_H)
        with Locations((-11.5, 60)):
            Rectangle(SKETCH005_W_2, SKETCH005_H)
    extrude(amount=PAD005_DEPTH)

    # Fillet001
    fillet001_edges = [part.edges().sort_by_distance(p)[0] for p in [
        (-11.5, 62.5, 10),
        (26.5, 62.5, 10),
        (-11.5, -62.5, 10),
        (26.5, -62.5, 10),
    ]]
    fillet(fillet001_edges, radius=FILLET001_R)

    # Chamfer
    chamfer_edges = [part.edges().sort_by_distance(p)[0] for p in [
        (17, 4, 10),
    ]]
    chamfer_side = part.faces().sort_by_distance((17, 4, 6))[0]
    chamfer(chamfer_edges, length=CHAMFER_SIZE, length2=CHAMFER_SIZE2, reference=chamfer_side)

    # Fillet002
    fillet002_edges = [part.edges().sort_by_distance(p)[0] for p in [
        (-11.5, -24, 2),
        (26.5, -24, 2),
        (26.5, 28, 2),
        (-11.5, 28, 2),
        (26.5, 30, 2),
        (-11.5, 30, 2),
        (-11.5, -20, 2),
        (26.5, -20, 2),
    ]]
    fillet(fillet002_edges, radius=FILLET002_R)


solid = part.part
